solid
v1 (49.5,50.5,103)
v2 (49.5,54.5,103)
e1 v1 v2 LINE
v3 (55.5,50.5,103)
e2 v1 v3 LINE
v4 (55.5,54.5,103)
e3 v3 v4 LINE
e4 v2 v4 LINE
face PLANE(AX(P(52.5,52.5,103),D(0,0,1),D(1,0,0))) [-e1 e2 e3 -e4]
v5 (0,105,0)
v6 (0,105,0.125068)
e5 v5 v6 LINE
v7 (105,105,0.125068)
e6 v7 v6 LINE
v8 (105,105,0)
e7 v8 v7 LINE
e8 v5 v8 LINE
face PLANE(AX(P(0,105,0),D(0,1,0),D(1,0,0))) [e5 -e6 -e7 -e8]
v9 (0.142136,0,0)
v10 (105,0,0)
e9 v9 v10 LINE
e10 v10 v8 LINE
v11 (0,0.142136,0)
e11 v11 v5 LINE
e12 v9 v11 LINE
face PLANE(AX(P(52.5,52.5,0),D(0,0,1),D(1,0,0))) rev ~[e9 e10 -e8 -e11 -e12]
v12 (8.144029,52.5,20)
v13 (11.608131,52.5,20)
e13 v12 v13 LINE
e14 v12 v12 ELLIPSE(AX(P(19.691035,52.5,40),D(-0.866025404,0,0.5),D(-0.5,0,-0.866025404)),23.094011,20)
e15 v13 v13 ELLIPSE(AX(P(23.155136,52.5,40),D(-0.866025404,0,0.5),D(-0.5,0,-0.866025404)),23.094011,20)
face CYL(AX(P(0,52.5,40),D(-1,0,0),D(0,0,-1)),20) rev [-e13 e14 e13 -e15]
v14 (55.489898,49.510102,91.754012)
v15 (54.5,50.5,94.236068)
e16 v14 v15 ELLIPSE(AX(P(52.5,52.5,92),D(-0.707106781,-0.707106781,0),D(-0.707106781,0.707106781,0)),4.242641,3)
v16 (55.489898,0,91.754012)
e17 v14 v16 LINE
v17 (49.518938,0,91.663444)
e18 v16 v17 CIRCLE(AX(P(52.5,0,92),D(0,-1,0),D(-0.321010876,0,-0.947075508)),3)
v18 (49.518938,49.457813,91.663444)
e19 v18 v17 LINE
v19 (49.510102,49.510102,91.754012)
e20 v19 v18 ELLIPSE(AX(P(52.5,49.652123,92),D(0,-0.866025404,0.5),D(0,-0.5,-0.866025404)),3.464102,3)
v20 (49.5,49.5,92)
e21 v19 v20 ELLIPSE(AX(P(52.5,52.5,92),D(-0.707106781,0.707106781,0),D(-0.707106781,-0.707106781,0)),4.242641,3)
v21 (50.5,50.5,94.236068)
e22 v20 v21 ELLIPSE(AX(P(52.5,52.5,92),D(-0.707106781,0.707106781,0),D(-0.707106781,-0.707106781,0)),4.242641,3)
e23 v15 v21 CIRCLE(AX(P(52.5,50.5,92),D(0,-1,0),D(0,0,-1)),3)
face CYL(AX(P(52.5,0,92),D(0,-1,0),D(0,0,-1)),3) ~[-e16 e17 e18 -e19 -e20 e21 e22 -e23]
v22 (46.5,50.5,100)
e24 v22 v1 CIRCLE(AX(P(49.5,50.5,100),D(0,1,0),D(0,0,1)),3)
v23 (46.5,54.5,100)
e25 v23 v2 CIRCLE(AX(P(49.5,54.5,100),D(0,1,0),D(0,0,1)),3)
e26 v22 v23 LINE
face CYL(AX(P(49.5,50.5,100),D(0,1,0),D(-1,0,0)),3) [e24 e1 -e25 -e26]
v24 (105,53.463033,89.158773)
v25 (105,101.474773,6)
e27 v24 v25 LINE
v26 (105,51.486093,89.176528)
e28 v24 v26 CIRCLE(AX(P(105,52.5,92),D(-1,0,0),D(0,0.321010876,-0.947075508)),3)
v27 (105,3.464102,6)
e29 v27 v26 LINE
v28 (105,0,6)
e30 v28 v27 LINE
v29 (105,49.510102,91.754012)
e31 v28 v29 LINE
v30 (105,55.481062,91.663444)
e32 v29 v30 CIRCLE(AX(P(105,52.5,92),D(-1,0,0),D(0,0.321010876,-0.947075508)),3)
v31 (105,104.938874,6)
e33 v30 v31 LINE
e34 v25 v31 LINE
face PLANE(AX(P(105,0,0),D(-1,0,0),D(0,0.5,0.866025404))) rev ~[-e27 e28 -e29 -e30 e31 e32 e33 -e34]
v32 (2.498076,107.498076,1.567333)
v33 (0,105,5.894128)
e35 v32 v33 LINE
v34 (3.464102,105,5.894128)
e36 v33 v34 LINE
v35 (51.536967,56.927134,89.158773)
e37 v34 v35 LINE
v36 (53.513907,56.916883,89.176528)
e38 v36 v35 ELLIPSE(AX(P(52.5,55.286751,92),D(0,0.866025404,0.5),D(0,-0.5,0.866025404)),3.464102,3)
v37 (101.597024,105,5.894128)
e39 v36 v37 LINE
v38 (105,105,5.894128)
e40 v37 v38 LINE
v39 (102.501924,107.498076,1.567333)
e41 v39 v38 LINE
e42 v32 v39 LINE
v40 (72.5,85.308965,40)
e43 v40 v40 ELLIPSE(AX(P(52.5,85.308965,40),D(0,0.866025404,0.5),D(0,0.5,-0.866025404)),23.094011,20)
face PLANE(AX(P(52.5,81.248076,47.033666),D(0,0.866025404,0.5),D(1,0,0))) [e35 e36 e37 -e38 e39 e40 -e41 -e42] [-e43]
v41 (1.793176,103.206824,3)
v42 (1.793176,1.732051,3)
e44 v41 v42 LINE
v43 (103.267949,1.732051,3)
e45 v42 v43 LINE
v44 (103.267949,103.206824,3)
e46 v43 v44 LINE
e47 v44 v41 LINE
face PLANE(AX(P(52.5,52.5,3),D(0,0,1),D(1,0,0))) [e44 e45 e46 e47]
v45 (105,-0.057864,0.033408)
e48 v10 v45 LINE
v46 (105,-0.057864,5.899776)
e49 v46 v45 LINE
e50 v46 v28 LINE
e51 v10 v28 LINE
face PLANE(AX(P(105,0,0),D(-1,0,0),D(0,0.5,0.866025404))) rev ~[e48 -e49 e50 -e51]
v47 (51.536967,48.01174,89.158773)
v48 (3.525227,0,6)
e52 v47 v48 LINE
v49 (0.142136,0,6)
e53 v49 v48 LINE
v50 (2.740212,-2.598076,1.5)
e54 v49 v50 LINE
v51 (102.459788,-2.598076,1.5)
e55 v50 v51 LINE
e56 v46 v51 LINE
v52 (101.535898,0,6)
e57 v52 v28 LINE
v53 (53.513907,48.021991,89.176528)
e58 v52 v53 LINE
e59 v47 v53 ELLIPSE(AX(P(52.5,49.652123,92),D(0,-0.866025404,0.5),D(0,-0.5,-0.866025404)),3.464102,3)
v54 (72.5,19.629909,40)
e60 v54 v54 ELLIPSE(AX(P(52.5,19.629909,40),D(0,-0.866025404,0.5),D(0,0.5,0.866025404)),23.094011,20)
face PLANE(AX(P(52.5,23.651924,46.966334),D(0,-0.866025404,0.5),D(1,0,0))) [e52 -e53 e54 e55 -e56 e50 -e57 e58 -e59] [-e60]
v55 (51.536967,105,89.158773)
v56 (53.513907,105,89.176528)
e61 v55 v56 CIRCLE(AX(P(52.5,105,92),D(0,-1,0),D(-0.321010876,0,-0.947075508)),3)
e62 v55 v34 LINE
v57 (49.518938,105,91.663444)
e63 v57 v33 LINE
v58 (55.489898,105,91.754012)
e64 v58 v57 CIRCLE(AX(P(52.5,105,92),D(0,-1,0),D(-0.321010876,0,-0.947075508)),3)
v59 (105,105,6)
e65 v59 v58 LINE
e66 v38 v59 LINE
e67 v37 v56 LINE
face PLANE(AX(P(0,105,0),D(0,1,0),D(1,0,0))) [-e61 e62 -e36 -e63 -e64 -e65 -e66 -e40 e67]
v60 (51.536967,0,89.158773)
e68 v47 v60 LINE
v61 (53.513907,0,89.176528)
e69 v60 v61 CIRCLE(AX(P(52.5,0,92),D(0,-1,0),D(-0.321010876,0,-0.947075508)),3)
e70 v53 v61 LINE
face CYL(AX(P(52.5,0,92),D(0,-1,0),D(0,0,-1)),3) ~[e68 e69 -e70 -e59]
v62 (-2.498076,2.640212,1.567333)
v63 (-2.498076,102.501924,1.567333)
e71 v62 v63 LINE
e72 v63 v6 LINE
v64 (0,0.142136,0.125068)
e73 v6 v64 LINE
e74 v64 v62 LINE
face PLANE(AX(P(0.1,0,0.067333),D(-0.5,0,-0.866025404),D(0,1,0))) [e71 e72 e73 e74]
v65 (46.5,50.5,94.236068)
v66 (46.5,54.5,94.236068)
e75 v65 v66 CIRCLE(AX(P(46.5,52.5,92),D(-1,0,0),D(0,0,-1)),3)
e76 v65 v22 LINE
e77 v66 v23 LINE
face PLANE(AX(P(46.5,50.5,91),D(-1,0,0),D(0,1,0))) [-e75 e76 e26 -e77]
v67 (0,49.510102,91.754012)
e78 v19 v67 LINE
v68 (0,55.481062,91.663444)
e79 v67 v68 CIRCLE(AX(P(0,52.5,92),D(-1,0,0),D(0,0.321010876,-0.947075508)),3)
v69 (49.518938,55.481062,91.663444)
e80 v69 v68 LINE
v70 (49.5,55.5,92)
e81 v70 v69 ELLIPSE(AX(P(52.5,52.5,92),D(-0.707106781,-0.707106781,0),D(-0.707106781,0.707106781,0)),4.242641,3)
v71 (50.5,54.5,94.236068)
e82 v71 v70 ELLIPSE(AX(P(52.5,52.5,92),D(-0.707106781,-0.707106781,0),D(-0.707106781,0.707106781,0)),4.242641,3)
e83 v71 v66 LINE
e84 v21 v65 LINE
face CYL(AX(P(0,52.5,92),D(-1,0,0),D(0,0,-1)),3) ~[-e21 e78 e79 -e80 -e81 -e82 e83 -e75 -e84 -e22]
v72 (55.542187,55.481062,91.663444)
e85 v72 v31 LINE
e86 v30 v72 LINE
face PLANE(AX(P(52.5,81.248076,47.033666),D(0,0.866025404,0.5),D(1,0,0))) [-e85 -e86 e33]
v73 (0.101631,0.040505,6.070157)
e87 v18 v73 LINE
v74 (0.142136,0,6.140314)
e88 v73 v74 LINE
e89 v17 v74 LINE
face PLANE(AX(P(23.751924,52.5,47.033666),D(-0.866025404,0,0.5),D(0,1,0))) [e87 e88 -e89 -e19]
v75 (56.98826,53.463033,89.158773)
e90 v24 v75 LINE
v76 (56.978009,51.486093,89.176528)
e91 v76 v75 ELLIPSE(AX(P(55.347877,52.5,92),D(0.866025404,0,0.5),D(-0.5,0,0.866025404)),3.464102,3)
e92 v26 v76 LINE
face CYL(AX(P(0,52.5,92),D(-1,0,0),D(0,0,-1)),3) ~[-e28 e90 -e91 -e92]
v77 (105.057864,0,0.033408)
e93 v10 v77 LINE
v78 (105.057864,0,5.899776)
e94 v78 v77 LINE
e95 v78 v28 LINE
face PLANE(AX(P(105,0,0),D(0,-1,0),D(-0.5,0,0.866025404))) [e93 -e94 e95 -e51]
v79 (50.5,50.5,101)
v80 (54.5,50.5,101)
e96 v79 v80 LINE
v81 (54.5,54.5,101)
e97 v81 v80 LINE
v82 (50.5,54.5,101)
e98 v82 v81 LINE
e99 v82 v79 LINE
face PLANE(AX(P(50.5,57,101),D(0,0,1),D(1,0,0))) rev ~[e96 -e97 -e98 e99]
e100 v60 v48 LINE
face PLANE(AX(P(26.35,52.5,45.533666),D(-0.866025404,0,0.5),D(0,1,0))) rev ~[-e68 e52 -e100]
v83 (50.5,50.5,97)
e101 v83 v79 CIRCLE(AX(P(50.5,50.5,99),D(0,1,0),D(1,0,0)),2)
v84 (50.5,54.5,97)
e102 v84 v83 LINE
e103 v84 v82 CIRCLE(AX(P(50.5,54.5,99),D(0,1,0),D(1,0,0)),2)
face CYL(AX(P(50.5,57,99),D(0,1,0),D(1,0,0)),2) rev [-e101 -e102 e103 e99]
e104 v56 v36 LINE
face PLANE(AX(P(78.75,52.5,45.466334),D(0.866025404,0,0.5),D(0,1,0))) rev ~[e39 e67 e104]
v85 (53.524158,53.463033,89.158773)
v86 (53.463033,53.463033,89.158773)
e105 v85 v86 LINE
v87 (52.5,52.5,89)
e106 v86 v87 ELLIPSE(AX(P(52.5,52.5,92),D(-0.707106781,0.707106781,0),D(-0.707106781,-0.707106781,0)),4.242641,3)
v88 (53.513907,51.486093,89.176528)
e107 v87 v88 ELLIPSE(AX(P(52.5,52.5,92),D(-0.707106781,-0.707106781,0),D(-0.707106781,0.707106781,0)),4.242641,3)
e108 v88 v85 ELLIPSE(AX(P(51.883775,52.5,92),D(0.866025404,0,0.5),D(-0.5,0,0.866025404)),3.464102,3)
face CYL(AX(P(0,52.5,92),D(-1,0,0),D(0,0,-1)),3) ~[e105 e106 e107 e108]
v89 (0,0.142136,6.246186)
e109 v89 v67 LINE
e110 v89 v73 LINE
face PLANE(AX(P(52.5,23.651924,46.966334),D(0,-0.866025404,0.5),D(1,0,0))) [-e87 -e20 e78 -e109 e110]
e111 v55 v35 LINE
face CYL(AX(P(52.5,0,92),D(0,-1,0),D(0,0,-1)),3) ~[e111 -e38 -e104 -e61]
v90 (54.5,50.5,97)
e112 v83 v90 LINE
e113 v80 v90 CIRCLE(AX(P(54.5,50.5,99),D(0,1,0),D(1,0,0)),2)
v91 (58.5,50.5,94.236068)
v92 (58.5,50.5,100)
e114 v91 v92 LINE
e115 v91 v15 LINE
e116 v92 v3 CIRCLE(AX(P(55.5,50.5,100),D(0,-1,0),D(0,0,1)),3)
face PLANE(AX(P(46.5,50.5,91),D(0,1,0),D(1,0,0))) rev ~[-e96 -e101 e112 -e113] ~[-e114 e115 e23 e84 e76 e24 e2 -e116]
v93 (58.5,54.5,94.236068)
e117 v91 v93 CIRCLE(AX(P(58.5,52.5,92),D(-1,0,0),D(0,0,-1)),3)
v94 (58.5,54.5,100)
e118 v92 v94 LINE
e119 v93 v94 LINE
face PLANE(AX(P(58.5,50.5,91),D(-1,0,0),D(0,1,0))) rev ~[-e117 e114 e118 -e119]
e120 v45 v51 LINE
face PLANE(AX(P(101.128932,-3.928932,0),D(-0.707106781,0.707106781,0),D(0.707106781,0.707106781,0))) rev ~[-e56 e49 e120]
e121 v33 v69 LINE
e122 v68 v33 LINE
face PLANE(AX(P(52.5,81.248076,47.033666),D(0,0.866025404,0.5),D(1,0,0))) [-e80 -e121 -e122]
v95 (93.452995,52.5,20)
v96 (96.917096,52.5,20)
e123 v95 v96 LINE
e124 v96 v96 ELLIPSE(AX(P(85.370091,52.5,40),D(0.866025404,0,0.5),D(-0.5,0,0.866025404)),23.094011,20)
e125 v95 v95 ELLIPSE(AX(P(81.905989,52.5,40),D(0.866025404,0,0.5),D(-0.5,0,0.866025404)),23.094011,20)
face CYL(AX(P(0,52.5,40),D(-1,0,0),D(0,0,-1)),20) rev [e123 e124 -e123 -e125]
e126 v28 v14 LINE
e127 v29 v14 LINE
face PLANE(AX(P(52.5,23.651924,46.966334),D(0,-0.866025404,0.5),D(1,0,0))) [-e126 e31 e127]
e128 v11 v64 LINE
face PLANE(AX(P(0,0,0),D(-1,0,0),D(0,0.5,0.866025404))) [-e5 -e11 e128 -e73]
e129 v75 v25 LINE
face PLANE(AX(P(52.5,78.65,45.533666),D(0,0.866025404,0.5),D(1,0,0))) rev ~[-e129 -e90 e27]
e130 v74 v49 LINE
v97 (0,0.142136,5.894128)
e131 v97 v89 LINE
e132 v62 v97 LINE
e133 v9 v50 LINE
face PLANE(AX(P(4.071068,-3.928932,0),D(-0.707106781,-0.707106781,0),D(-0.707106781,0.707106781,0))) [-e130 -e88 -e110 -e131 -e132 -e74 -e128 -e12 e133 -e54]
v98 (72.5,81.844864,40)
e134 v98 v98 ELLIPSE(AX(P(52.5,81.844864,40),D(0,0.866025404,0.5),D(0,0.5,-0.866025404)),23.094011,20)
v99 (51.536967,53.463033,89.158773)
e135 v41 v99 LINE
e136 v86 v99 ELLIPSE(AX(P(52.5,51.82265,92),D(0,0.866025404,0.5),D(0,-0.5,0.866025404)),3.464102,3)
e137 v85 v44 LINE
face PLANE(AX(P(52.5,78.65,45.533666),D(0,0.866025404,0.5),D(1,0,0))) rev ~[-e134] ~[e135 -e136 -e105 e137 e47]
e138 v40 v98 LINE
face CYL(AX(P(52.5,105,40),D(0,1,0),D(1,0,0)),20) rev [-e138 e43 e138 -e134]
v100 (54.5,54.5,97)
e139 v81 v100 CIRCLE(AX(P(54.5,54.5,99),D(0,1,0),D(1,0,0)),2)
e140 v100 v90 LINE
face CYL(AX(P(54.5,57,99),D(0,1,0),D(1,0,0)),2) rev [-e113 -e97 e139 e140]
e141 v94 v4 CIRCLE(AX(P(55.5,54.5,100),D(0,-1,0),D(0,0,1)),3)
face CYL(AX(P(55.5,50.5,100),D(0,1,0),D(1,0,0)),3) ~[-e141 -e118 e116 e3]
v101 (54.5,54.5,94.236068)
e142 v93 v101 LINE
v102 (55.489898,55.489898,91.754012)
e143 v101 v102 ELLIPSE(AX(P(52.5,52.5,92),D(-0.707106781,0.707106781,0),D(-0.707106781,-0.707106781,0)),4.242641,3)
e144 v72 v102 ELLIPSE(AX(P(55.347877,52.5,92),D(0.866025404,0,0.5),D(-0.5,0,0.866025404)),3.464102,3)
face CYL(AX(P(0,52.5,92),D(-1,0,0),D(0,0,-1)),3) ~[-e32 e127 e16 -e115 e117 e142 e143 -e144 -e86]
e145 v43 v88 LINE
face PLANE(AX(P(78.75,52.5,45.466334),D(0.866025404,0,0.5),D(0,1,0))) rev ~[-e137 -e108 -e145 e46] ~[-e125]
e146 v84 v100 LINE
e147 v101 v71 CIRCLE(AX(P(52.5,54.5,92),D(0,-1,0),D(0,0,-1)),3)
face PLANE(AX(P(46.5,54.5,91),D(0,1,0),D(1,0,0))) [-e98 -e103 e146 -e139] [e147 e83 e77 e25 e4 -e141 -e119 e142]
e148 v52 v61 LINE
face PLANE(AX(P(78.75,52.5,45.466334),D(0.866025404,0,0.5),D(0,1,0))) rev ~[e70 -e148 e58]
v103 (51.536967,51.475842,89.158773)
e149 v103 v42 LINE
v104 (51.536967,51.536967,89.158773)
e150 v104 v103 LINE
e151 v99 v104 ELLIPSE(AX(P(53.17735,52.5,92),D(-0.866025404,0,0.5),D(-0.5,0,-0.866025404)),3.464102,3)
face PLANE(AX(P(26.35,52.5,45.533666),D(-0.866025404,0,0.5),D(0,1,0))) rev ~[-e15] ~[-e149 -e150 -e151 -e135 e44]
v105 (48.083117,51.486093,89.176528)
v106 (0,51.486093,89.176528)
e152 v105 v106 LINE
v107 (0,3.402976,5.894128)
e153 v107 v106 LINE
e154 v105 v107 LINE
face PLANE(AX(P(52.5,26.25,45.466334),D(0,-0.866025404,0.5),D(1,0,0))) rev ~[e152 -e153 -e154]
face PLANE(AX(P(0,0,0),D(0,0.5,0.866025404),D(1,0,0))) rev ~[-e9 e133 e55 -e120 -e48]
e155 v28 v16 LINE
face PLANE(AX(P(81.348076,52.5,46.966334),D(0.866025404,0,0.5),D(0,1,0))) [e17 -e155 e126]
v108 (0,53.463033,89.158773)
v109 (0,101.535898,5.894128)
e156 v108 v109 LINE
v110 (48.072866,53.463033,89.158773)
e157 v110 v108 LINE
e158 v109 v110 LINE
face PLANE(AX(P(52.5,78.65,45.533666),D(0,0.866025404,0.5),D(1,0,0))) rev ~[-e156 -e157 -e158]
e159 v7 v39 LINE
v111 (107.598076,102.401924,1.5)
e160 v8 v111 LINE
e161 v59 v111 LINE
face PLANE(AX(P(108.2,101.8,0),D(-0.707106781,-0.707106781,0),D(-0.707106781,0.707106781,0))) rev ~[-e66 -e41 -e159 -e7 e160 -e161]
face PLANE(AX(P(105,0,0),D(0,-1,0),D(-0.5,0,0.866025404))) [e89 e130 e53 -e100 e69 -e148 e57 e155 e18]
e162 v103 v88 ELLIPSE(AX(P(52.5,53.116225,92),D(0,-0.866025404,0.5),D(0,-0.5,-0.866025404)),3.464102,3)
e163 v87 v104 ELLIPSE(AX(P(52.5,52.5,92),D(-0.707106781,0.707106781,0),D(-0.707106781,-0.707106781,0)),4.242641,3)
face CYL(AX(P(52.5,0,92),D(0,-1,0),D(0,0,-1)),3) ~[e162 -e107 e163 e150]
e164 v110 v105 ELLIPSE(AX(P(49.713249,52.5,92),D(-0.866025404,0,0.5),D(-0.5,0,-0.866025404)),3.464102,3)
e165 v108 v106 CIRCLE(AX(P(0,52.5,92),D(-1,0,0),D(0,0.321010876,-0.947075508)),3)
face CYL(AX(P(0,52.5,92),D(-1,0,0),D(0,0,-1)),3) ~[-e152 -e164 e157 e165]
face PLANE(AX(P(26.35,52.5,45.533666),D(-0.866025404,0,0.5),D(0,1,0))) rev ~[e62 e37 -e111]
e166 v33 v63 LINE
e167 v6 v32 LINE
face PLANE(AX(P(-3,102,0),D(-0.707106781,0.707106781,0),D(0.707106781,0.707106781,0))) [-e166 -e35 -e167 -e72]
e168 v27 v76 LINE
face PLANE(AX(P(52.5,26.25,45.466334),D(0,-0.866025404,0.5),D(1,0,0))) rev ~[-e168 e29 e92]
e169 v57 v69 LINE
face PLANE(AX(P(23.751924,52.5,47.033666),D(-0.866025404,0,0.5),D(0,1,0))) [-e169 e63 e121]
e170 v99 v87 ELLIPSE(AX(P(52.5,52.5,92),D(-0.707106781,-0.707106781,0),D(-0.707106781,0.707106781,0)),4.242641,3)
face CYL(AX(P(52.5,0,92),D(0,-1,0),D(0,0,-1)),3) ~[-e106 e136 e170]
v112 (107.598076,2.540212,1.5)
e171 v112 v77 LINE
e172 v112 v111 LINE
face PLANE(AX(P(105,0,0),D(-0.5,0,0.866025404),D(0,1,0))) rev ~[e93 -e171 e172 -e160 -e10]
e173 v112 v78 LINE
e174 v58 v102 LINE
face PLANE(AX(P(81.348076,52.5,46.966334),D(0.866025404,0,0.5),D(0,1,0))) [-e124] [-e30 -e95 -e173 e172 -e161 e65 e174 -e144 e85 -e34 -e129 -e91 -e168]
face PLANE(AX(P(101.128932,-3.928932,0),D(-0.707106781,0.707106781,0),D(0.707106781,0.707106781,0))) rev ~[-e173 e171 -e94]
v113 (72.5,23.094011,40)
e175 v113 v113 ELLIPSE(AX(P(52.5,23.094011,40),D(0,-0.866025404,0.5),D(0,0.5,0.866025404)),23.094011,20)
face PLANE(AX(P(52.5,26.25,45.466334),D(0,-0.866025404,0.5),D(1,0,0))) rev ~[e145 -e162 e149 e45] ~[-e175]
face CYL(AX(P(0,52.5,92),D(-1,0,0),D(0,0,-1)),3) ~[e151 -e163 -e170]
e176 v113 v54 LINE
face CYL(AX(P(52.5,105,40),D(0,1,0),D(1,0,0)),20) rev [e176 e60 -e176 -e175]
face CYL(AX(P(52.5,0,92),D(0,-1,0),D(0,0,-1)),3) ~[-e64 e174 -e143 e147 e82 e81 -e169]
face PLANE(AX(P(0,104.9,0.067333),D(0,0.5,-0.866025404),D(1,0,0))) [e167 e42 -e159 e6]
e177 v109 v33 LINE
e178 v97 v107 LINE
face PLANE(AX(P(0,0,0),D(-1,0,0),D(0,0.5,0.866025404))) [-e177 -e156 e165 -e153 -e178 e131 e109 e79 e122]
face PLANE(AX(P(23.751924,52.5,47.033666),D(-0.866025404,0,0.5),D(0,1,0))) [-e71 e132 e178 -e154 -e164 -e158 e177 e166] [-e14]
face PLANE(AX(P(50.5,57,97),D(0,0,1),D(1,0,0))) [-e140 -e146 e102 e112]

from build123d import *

# Parameters (mm, degrees)
BOX008_W                  = 10
BOX008_H                  = 10
BOX008_DEPTH              = 10
BOX008_PLACEMENT_ANGLE    = 45
BOX010_W                  = 10
BOX010_H                  = 10
BOX010_DEPTH              = 10
BOX010_PLACEMENT_ANGLE    = 45
BOX011_W                  = 10
BOX011_H                  = 10
BOX011_DEPTH              = 10
BOX011_PLACEMENT_ANGLE    = 45
BOX009_W                  = 10
BOX009_H                  = 10
BOX009_DEPTH              = 10
BOX009_PLACEMENT_ANGLE    = 45
CYLINDER002_R             = 20
CYLINDER002_DEPTH         = 105
CYLINDER003_R             = 20
CYLINDER003_DEPTH         = 105
CYLINDER001_R             = 3
CYLINDER001_DEPTH         = 105
BOX004_W                  = 105
BOX004_H                  = 105
BOX004_DEPTH              = 3
BOX004_PLACEMENT_ANGLE    = 60
BOX005_W                  = 105
BOX005_H                  = 105
BOX005_DEPTH              = 3
BOX005_PLACEMENT_ANGLE    = 60
BOX006_W                  = 105
BOX006_H                  = 105
BOX006_DEPTH              = 3
FUSION001_PLACEMENT_ANGLE = 90
CYLINDER_R                = 3
CYLINDER_DEPTH            = 105
BOX003_W                  = 105
BOX003_H                  = 105
BOX003_DEPTH              = 3
BOX003_PLACEMENT_ANGLE    = 300
BOX002_W                  = 105
BOX002_H                  = 105
BOX002_DEPTH              = 3
BOX002_PLACEMENT_ANGLE    = 60
BOX001_W                  = 105
BOX001_H                  = 105
BOX001_DEPTH              = 3
CYLINDER005_R             = 2
CYLINDER005_DEPTH         = 10
CYLINDER004_R             = 2
CYLINDER004_DEPTH         = 10
BOX007_W                  = 4
BOX007_H                  = 4
BOX007_DEPTH              = 10
FUSION004_PLACEMENT_ANGLE = 90
BOX_W                     = 12
BOX_H                     = 4
BOX_DEPTH                 = 12
FILLET_R                  = 3


with BuildPart() as cube008:
    # Box008 → Box008 (new body)
    with BuildSketch(Plane.XY):
        with Locations((5, 5)):
            Rectangle(BOX008_W, BOX008_H)
    extrude(amount=BOX008_DEPTH)


with BuildPart() as cube008_1:
    # Box008 placement: moved
    add(cube008.part.moved(Location((-3, -11, 0))).rotate(Axis((-3, -11, 0), (0, 0, 1)), BOX008_PLACEMENT_ANGLE))


with BuildPart() as cube010:
    # Box010 → Box010 (new body)
    with BuildSketch(Plane.XY):
        with Locations((5, 5)):
            Rectangle(BOX010_W, BOX010_H)
    extrude(amount=BOX010_DEPTH)


with BuildPart() as cube010_1:
    # Box010 placement: moved
    add(cube010.part.moved(Location((108.2, -11, 0))).rotate(Axis((108.2, -11, 0), (0, 0, 1)), BOX010_PLACEMENT_ANGLE))


with BuildPart() as cube011:
    # Box011 → Box011 (new body)
    with BuildSketch(Plane.XY):
        with Locations((5, 5)):
            Rectangle(BOX011_W, BOX011_H)
    extrude(amount=BOX011_DEPTH)


with BuildPart() as cube011_1:
    # Box011 placement: moved
    add(cube011.part.moved(Location((108.2, 101.8, 0))).rotate(Axis((108.2, 101.8, 0), (0, 0, 1)), BOX011_PLACEMENT_ANGLE))


with BuildPart() as fusion005:
    # Box009 → Box009 (new body)
    with BuildSketch(Plane.XY):
        with Locations((5, 5)):
            Rectangle(BOX009_W, BOX009_H)
    extrude(amount=BOX009_DEPTH)


with BuildPart() as fusion005_1:
    # Box009 placement: moved
    add(fusion005.part.moved(Location((-3, 102, 0))).rotate(Axis((-3, 102, 0), (0, 0, 1)), BOX009_PLACEMENT_ANGLE))

    # Fusion005: union Cube008, Cube010, Cube011
    add(cube008_1.part)
    add(cube010_1.part)
    add(cube011_1.part)


with BuildPart() as cylinder002:
    # Cylinder002 → Cylinder002 (new body)
    with BuildSketch(Plane(origin=(52.5, 105, 40), x_dir=(1, 0, 0), z_dir=(0, -1, 0))):
        Circle(CYLINDER002_R)
    extrude(amount=CYLINDER002_DEPTH)


with BuildPart() as fusion003:
    # Cylinder003 → Cylinder003 (new body)
    with BuildSketch(Plane(origin=(0, 52.5, 40), x_dir=(0, 0, -1), z_dir=(1, 0, 0))):
        Circle(CYLINDER003_R)
    extrude(amount=CYLINDER003_DEPTH)

    # Fusion003: union Cylinder002
    add(cylinder002.part)


with BuildPart() as cylinder001:
    # Cylinder001 → Cylinder001 (new body)
    with BuildSketch(Plane(origin=(0, 52.5, 92), x_dir=(0, 0, -1), z_dir=(1, 0, 0))):
        Circle(CYLINDER001_R)
    extrude(amount=CYLINDER001_DEPTH)


with BuildPart() as cube004:
    # Box004 → Box004 (new body)
    with BuildSketch(Plane.XY):
        with Locations((52.5, 52.5)):
            Rectangle(BOX004_W, BOX004_H)
    extrude(amount=BOX004_DEPTH)


with BuildPart() as cube004_1:
    # Box004 placement: moved
    add(cube004.part.moved(Location((0, 52.4, 91))).rotate(Axis((0, 52.4, 91), (-1, 0, 0)), BOX004_PLACEMENT_ANGLE))


with BuildPart() as cube005:
    # Box005 → Box005 (new body)
    with BuildSketch(Plane.XY):
        with Locations((52.5, 52.5)):
            Rectangle(BOX005_W, BOX005_H)
    extrude(amount=BOX005_DEPTH)


with BuildPart() as cube005_1:
    # Box005 placement: moved
    add(cube005.part.rotate(Axis((0, 0, 0), (1, 0, 0)), BOX005_PLACEMENT_ANGLE))


with BuildPart() as fusion001:
    # Box006 → Box006 (new body)
    with BuildSketch(Plane.XY):
        with Locations((52.5, 52.5)):
            Rectangle(BOX006_W, BOX006_H)
    extrude(amount=BOX006_DEPTH)

    # Fusion001: union Cylinder001, Cube004, Cube005
    add(cylinder001.part)
    add(cube004_1.part)
    add(cube005_1.part)


with BuildPart() as fusion001_1:
    # Fusion001 placement: moved
    add(fusion001.part.moved(Location((105, 0, 0))).rotate(Axis((105, 0, 0), (0, 0, 1)), FUSION001_PLACEMENT_ANGLE))


with BuildPart() as cylinder:
    # Cylinder → Cylinder (new body)
    with BuildSketch(Plane(origin=(0, 52.5, 92), x_dir=(0, 0, -1), z_dir=(1, 0, 0))):
        Circle(CYLINDER_R)
    extrude(amount=CYLINDER_DEPTH)


with BuildPart() as cube003:
    # Box003 → Box003 (new body)
    with BuildSketch(Plane.XY):
        with Locations((52.5, 52.5)):
            Rectangle(BOX003_W, BOX003_H)
    extrude(amount=BOX003_DEPTH)


with BuildPart() as cube003_1:
    # Box003 placement: moved
    add(cube003.part.moved(Location((0, 52.4, 91))).rotate(Axis((0, 52.4, 91), (1, 0, 0)), BOX003_PLACEMENT_ANGLE))


with BuildPart() as cube002:
    # Box002 → Box002 (new body)
    with BuildSketch(Plane.XY):
        with Locations((52.5, 52.5)):
            Rectangle(BOX002_W, BOX002_H)
    extrude(amount=BOX002_DEPTH)


with BuildPart() as cube002_1:
    # Box002 placement: moved
    add(cube002.part.rotate(Axis((0, 0, 0), (1, 0, 0)), BOX002_PLACEMENT_ANGLE))


with BuildPart() as cut002:
    # Box001 → Box001 (new body)
    with BuildSketch(Plane.XY):
        with Locations((52.5, 52.5)):
            Rectangle(BOX001_W, BOX001_H)
    extrude(amount=BOX001_DEPTH)

    # Fusion: union Cylinder, Cube003, Cube002
    add(cylinder.part)
    add(cube003_1.part)
    add(cube002_1.part)

    # Fusion002: union Fusion001
    add(fusion001_1.part)

    # Cut: cut Fusion003
    add(fusion003.part, mode=Mode.SUBTRACT)

    # Cut002: cut Fusion005
    add(fusion005_1.part, mode=Mode.SUBTRACT)


with BuildPart() as cylinder005:
    # Cylinder005 → Cylinder005 (new body)
    with BuildSketch(Plane.XY):
        Circle(CYLINDER005_R)
    extrude(amount=CYLINDER005_DEPTH)


with BuildPart() as cylinder004:
    # Cylinder004 → Cylinder004 (new body)
    with BuildSketch(Plane(origin=(4, 0, 0), x_dir=(1, 0, 0), z_dir=(0, 0, 1))):
        Circle(CYLINDER004_R)
    extrude(amount=CYLINDER004_DEPTH)


with BuildPart() as fusion004:
    # Box007 → Box007 (new body)
    with BuildSketch(Plane(origin=(0, -2, 0), x_dir=(1, 0, 0), z_dir=(0, 0, 1))):
        with Locations((2, 2)):
            Rectangle(BOX007_W, BOX007_H)
    extrude(amount=BOX007_DEPTH)

    # Fusion004: union Cylinder005, Cylinder004
    add(cylinder005.part)
    add(cylinder004.part)


with BuildPart() as fusion004_1:
    # Fusion004 placement: moved
    add(fusion004.part.moved(Location((50.5, 57, 99))).rotate(Axis((50.5, 57, 99), (1, 0, 0)), FUSION004_PLACEMENT_ANGLE))


with BuildPart() as birdhaus_draft:
    # Box → Box (new body)
    with BuildSketch(Plane(origin=(46.5, 50.5, 91), x_dir=(1, 0, 0), z_dir=(0, 0, 1))):
        with Locations((6, 2)):
            Rectangle(BOX_W, BOX_H)
    extrude(amount=BOX_DEPTH)

    # Fillet
    fillet_edges = [birdhaus_draft.edges().sort_by_distance(p)[0] for p in [
        (46.5, 52.5, 103),
        (58.5, 52.5, 103),
    ]]
    fillet(fillet_edges, radius=FILLET_R)

    # Cut001: cut Fusion004
    add(fusion004_1.part, mode=Mode.SUBTRACT)

    # Fusion006: union Cut002
    add(cut002.part)


solid = birdhaus_draft.part
